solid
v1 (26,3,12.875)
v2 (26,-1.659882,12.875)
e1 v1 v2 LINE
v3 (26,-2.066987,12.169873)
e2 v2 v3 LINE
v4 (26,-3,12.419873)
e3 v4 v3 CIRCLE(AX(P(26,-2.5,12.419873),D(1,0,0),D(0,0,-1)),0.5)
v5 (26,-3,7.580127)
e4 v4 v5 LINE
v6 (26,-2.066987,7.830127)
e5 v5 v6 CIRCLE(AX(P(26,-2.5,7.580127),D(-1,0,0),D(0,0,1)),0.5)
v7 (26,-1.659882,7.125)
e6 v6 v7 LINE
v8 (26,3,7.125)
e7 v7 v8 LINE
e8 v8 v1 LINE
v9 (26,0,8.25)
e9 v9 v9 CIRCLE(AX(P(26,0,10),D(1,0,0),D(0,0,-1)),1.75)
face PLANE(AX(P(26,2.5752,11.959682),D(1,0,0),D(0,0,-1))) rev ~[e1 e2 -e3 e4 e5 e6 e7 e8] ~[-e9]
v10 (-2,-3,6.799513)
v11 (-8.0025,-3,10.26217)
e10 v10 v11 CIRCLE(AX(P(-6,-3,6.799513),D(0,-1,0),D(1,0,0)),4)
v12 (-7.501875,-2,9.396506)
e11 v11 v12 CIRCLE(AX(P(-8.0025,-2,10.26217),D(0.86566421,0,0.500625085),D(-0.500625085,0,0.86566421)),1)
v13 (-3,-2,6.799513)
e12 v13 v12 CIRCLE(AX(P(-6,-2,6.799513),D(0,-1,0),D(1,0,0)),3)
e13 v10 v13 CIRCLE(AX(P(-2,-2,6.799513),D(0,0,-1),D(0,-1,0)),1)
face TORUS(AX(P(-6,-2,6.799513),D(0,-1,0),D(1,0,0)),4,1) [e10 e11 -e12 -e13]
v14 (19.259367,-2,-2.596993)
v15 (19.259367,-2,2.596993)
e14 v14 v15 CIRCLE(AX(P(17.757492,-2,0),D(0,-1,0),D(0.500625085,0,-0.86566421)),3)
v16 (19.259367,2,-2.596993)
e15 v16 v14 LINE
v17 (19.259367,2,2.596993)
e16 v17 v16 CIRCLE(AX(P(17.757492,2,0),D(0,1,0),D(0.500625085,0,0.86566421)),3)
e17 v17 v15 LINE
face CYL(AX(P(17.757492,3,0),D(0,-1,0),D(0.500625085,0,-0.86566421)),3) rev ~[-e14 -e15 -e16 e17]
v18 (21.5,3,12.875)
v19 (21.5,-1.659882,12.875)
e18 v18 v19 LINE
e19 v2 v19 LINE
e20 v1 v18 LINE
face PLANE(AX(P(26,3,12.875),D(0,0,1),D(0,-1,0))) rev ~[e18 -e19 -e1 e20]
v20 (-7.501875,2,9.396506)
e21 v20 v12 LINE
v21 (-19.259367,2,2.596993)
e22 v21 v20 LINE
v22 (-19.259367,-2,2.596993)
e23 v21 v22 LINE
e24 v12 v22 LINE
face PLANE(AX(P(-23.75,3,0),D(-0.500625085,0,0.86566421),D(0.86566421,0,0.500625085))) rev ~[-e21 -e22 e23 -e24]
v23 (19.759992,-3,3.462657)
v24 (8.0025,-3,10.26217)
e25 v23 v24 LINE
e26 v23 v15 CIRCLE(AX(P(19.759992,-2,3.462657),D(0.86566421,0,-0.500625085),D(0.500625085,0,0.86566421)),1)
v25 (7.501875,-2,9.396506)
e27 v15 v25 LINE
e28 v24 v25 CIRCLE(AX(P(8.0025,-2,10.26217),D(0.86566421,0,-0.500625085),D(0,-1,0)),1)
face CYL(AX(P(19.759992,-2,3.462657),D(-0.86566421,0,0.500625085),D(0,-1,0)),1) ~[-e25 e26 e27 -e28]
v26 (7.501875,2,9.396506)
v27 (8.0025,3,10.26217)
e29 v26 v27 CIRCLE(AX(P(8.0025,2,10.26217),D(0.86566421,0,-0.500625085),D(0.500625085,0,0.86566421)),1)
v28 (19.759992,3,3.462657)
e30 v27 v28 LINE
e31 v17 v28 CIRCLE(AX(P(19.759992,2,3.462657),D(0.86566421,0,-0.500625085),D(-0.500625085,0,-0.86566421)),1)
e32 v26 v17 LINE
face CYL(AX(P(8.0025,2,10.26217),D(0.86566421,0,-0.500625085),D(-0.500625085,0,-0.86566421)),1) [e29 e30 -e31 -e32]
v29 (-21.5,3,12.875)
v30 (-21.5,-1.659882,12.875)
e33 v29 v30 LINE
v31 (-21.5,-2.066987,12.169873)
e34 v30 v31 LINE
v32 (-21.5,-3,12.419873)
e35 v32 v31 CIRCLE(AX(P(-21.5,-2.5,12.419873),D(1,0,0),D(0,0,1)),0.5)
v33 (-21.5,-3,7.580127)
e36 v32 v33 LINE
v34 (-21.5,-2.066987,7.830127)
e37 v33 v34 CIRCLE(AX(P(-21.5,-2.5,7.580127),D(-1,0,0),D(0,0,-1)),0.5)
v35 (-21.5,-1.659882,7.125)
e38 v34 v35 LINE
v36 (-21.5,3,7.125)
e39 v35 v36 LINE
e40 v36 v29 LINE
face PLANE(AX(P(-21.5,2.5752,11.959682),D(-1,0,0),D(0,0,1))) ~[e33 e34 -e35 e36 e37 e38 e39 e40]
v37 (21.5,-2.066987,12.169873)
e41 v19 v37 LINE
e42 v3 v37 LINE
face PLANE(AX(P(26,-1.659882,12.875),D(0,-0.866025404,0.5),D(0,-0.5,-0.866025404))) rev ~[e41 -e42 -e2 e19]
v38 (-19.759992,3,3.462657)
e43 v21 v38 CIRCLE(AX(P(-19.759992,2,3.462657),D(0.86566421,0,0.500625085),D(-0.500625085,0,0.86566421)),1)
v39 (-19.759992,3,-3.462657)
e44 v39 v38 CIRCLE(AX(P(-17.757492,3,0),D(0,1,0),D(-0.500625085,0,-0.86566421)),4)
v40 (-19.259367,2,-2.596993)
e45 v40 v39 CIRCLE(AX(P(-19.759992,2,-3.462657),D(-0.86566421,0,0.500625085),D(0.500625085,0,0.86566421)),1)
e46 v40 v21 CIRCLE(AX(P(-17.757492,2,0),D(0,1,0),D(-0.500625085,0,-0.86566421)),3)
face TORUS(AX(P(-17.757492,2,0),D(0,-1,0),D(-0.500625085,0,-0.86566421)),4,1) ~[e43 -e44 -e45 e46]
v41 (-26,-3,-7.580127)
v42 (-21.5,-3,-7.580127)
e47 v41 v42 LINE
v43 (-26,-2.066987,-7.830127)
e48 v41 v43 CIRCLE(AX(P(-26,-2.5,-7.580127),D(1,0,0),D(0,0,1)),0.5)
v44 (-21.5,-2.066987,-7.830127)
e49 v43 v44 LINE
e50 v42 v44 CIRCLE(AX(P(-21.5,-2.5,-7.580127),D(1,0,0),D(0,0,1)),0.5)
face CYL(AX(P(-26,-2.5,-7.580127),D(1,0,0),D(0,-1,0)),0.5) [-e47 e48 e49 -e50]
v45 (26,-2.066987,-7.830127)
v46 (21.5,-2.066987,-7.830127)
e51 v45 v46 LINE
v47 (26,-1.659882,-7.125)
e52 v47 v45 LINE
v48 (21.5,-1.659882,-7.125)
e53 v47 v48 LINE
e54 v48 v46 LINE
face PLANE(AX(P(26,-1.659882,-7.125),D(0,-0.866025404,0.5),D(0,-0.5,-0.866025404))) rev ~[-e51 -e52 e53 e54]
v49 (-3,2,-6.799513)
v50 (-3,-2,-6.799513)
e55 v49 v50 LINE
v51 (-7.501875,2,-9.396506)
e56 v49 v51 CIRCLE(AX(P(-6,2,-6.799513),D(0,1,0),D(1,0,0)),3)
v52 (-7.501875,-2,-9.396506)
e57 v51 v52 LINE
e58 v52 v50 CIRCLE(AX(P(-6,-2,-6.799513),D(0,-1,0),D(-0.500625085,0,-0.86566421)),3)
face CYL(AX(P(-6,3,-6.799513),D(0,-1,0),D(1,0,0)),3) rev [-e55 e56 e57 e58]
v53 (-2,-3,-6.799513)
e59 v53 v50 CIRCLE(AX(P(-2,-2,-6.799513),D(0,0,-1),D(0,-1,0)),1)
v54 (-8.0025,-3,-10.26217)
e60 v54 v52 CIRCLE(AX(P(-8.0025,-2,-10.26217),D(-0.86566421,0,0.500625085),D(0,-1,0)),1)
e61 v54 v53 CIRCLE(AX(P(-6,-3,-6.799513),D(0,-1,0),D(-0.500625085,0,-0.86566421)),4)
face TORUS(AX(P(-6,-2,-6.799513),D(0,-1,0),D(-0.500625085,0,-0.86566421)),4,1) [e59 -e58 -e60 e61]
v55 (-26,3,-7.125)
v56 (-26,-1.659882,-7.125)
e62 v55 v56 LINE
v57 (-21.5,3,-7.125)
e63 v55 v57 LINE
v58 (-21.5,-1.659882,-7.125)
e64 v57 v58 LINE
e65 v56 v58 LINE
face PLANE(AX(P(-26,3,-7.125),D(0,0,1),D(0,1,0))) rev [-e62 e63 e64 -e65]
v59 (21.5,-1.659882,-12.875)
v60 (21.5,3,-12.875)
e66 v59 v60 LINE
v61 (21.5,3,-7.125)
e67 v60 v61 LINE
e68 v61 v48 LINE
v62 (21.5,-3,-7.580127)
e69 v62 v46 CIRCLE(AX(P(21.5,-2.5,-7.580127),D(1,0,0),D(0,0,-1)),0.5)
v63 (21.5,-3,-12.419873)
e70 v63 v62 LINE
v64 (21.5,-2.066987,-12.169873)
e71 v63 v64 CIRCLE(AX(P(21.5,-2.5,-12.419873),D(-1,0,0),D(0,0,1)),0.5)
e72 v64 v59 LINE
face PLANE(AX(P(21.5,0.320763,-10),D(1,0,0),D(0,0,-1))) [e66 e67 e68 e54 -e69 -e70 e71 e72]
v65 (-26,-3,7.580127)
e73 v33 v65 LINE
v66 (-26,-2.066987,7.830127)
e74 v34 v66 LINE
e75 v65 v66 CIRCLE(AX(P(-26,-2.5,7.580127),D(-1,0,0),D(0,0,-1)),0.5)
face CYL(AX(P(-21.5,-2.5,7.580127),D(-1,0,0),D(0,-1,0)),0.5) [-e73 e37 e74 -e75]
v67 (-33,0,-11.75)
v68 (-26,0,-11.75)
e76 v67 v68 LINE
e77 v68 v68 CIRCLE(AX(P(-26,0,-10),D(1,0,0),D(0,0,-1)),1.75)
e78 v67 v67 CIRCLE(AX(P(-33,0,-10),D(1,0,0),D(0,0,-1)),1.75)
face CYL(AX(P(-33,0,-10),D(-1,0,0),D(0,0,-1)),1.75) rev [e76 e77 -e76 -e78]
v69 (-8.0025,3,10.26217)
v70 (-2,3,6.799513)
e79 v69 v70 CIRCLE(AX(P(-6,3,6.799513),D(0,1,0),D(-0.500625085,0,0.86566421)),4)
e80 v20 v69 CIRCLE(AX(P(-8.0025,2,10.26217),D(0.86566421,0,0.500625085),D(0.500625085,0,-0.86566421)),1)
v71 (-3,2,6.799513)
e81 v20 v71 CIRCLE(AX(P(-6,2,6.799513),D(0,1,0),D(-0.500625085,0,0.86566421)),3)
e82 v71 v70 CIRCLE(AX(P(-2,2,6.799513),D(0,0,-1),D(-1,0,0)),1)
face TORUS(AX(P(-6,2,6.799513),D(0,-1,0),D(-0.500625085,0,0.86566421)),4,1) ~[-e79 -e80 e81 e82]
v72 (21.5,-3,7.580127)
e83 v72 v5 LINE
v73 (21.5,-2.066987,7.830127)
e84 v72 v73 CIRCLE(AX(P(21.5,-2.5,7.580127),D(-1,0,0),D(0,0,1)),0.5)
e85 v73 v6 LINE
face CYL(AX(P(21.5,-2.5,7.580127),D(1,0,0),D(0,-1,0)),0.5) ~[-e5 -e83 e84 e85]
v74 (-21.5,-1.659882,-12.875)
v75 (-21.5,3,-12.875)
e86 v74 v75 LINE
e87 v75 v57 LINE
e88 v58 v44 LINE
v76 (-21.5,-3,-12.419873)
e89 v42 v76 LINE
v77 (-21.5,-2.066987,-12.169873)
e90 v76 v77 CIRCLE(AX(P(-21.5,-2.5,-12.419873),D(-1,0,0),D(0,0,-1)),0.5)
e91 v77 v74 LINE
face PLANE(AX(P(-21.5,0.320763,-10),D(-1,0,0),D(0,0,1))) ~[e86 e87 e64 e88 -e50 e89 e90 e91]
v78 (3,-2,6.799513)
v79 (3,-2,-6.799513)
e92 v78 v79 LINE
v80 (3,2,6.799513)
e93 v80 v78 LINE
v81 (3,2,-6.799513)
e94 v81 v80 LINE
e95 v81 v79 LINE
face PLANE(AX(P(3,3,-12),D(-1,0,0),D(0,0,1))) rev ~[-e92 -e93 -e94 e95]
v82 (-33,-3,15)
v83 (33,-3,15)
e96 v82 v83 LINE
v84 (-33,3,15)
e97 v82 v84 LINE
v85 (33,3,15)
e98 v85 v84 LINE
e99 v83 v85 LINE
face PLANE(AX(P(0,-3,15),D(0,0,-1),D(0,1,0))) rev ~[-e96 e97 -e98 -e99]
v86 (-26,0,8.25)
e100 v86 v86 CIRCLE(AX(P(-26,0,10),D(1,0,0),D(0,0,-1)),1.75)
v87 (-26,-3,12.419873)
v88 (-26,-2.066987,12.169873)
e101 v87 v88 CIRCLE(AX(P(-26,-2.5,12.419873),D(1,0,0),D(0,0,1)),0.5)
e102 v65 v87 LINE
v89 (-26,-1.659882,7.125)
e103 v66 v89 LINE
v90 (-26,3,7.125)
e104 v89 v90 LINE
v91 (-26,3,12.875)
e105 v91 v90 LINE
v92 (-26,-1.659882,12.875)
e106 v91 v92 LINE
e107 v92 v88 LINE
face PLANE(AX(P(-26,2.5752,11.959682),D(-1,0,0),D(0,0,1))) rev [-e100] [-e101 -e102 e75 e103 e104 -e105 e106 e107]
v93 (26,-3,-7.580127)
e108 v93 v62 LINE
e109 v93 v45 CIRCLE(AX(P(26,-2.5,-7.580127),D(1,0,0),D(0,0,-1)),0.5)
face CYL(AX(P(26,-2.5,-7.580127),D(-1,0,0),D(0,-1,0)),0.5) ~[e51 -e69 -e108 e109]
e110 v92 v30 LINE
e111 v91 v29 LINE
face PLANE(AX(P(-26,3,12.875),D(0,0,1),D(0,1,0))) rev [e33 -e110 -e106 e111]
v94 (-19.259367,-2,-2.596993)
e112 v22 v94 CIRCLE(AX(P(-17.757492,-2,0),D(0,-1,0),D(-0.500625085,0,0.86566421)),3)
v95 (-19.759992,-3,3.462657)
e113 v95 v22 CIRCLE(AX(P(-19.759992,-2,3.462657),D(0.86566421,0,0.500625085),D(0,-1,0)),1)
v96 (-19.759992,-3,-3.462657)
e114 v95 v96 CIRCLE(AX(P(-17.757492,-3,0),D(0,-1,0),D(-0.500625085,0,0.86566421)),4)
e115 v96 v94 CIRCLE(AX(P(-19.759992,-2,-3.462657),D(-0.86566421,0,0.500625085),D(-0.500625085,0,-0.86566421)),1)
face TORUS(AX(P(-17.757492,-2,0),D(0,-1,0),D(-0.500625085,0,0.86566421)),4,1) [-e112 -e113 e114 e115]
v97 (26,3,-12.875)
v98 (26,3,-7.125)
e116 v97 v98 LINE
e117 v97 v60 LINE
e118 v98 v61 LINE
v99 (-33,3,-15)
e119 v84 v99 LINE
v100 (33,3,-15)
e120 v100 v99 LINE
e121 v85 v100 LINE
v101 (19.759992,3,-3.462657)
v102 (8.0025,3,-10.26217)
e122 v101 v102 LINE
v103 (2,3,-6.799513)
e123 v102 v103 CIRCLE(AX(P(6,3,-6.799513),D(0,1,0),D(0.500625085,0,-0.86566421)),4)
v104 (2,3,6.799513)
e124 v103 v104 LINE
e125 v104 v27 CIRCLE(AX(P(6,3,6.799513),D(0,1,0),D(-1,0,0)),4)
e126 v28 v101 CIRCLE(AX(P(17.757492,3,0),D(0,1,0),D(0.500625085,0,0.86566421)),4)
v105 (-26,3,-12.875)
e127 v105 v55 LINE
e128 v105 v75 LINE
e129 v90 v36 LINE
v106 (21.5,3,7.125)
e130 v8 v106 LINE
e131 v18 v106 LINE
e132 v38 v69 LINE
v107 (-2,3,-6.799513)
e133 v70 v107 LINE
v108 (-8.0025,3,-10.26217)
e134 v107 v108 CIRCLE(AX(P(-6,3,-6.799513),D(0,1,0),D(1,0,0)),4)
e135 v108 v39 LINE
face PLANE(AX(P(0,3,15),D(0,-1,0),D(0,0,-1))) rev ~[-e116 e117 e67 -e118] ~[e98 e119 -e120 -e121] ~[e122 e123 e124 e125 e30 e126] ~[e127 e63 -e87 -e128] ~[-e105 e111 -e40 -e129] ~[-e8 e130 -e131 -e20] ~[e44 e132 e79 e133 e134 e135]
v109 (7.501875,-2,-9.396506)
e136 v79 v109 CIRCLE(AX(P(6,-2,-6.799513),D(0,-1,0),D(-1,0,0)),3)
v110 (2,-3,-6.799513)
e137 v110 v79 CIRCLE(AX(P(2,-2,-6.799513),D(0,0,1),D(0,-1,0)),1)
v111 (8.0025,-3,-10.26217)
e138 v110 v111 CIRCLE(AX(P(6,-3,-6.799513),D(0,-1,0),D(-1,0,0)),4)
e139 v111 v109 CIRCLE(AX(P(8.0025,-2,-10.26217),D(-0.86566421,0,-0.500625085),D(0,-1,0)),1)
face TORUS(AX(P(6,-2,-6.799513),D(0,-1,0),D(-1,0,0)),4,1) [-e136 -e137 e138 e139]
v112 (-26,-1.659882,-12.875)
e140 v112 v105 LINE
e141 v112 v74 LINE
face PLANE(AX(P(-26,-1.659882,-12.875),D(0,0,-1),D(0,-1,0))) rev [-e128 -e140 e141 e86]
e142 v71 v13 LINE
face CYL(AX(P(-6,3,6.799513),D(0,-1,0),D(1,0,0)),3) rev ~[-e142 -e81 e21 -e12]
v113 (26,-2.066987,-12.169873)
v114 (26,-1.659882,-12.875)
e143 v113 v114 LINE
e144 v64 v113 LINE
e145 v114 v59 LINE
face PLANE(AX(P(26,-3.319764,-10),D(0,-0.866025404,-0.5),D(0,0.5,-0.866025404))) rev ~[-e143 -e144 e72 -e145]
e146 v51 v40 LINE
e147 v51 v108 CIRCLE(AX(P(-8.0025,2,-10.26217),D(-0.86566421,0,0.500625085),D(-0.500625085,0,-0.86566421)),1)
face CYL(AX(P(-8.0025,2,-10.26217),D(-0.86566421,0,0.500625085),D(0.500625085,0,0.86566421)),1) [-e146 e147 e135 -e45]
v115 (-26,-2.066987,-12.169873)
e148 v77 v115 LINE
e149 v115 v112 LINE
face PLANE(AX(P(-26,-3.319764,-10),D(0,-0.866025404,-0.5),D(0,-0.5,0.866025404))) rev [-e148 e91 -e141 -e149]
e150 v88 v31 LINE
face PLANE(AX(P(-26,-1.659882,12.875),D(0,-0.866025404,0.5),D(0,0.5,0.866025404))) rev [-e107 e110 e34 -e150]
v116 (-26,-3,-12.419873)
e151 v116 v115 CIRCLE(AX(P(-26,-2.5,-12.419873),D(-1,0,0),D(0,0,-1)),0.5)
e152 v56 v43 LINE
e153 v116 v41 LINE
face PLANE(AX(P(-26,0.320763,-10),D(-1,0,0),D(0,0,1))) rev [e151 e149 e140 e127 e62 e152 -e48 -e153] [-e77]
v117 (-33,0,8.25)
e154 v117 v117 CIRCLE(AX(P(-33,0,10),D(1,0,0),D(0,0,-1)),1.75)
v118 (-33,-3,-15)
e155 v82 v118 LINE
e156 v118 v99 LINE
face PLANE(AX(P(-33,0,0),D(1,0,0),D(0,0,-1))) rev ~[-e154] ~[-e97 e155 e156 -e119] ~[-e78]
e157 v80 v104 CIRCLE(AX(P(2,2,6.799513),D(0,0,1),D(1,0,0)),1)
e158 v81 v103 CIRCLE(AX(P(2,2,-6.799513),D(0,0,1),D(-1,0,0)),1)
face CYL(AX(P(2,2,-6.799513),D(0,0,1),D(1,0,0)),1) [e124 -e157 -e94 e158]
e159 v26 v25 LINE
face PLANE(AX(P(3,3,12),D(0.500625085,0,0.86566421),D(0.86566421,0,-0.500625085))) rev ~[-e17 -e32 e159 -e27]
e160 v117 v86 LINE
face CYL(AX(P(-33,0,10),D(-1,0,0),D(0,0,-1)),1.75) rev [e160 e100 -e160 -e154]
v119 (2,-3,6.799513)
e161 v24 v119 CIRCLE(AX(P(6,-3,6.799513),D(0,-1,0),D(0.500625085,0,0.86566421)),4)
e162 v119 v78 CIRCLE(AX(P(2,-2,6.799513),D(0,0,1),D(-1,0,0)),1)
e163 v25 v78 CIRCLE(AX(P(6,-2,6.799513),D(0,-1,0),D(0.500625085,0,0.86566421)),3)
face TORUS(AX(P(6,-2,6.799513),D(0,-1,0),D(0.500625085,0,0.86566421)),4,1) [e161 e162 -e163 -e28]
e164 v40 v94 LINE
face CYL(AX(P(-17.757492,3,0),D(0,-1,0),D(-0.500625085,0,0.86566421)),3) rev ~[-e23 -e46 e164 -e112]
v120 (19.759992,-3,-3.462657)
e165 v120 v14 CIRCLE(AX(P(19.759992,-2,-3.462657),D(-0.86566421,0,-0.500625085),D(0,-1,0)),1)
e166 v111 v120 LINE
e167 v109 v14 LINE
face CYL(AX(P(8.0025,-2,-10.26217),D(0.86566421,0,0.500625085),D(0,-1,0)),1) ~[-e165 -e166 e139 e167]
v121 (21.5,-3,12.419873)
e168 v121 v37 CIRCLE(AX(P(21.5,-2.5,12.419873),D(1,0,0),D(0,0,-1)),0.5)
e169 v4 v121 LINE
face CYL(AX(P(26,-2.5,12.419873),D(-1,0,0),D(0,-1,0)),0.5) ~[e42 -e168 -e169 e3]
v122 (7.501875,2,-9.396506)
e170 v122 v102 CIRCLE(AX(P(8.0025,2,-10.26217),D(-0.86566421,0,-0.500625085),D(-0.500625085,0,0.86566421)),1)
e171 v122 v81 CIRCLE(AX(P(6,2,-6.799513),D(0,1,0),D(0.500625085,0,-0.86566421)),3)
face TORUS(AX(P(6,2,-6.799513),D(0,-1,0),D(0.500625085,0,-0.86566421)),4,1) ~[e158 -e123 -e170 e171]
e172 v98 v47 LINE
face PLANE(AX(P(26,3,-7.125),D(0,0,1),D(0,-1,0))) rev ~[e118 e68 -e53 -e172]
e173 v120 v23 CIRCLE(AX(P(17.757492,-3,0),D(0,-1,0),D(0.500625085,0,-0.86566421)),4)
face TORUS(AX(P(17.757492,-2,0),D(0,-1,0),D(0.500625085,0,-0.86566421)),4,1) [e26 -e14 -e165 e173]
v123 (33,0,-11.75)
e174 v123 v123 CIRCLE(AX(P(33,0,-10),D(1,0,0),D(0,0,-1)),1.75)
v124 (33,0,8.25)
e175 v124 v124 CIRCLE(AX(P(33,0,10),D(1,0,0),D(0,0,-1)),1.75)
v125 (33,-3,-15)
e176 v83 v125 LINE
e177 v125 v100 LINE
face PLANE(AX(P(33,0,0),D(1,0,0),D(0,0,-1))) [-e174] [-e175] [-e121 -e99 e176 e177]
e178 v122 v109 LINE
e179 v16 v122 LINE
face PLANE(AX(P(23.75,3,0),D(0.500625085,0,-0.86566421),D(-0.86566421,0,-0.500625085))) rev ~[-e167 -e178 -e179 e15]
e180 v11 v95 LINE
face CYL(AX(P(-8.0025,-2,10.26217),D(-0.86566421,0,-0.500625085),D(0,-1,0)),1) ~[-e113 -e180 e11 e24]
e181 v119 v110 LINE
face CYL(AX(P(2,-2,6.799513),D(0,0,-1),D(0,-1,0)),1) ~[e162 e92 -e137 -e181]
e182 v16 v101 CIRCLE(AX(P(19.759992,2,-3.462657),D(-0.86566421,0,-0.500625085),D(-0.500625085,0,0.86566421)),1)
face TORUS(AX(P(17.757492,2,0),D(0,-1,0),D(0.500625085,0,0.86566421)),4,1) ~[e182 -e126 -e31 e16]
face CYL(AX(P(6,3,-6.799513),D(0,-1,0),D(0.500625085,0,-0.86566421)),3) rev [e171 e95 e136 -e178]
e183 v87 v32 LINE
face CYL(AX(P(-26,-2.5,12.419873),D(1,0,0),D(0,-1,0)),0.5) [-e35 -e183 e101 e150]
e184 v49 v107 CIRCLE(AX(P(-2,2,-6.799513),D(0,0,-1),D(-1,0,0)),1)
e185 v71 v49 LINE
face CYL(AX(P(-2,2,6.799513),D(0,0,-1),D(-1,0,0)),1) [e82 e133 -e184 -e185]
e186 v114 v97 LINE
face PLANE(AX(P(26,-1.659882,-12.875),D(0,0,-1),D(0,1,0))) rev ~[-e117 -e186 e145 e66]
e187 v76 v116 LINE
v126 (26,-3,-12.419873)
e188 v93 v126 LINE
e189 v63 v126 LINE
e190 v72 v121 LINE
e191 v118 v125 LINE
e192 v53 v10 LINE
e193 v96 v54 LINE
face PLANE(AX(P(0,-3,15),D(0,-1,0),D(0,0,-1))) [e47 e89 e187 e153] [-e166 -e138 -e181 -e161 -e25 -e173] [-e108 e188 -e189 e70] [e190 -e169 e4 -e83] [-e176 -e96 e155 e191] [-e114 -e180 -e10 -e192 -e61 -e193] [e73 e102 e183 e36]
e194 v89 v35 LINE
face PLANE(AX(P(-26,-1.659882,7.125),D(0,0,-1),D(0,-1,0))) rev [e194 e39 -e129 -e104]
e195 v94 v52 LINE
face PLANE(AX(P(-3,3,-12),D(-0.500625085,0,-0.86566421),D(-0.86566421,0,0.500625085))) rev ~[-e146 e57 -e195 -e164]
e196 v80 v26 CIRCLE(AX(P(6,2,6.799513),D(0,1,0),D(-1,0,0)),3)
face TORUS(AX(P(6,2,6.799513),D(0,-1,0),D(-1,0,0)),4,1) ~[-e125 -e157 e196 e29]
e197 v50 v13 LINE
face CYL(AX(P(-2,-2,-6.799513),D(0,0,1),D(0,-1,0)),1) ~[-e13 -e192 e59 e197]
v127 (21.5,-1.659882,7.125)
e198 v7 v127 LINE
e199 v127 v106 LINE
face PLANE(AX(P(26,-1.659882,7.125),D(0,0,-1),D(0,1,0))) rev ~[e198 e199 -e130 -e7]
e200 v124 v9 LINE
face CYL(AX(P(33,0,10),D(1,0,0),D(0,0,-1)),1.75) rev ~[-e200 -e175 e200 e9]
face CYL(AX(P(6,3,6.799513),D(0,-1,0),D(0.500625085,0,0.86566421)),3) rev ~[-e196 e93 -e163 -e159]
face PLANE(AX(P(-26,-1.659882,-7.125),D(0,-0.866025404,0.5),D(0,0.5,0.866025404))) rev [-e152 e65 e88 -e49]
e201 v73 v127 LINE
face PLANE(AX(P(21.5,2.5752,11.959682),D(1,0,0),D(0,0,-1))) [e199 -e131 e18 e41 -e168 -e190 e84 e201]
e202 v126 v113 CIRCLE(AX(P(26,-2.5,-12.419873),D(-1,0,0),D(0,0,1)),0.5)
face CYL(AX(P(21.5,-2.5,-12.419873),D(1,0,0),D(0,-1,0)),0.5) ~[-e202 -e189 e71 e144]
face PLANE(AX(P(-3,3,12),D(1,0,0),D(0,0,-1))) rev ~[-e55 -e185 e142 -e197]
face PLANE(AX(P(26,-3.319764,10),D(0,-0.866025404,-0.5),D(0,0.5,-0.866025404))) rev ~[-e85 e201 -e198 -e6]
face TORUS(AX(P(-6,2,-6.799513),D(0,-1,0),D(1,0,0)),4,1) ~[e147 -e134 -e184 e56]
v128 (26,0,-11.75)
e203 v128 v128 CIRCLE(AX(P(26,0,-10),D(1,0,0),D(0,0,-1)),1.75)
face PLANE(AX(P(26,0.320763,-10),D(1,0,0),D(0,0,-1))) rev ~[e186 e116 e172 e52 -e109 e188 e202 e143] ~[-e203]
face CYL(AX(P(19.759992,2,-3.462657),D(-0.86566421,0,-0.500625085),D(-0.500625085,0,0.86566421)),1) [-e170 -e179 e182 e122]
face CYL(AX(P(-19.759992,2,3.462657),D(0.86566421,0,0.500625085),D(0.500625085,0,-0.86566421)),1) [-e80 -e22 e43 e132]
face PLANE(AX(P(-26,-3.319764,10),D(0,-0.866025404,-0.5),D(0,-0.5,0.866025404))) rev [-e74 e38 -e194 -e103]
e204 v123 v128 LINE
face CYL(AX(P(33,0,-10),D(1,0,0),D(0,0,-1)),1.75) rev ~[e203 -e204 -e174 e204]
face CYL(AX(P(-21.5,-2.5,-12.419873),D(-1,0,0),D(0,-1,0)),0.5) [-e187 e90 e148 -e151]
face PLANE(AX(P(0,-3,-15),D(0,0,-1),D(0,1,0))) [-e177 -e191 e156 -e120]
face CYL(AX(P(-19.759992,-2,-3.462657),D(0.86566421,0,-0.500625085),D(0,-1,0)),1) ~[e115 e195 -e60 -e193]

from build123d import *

# Parameters (mm, degrees)
SKETCH1_W           = 30
SKETCH1_H           = 6
BOSS_EXTRUDE1_DEPTH = 33
SKETCH2_R           = 1.75
CUT_EXTRUDE1_DEPTH  = 7
CUT_EXTRUDE2_DEPTH  = 4.5
CUT_EXTRUDE3_DEPTH  = 7
FILLET1_R           = 3
FILLET2_R           = 1
FILLET3_R           = 0.5


with BuildPart() as part:
    # Sketch1 → Boss-Extrude1 (new body, symmetric)
    with BuildSketch(Plane(origin=(0, 0, 0), x_dir=(0, 0, -1), z_dir=(1, 0, 0))):
        Rectangle(SKETCH1_W, SKETCH1_H)
    extrude(amount=BOSS_EXTRUDE1_DEPTH, both=True)

    # Sketch2 → Cut-Extrude1 (cut)
    with BuildSketch(Plane(origin=(33, 0, 0), x_dir=(0, 0, -1), z_dir=(1, 0, 0))):
        with Locations((-10, 0)):
            Circle(SKETCH2_R)
        with Locations((10, 0)):
            Circle(SKETCH2_R)
    cut_extrude1 = extrude(amount=-CUT_EXTRUDE1_DEPTH, mode=Mode.SUBTRACT)

    # Sketch3 → Cut-Extrude2 (cut)
    with BuildSketch(Plane(origin=(26, 0, 0), x_dir=(0, 0, -1), z_dir=(1, 0, 0))):
        Polygon((-12.875, 3), (-12.875, 1.659882024), (-10.553847577, 3), align=None)
        Polygon((-10.553847577, 3), (-12.875, 1.659882024), (-12.875, -1.659882024), (-10, -3.319764048), (-7.125, -1.659882024), (-7.125, 1.659882024), (-9.446152423, 3), align=None)
        Polygon((-10, 3.319764048), (-10.553847577, 3), (-9.446152423, 3), align=None)
        Polygon((-7.125, 3), (-9.446152423, 3), (-7.125, 1.659882024), align=None)
        Polygon((12.875, 3), (7.125, 3), (7.125, 1.659882024), (7.125, -1.659882024), (10, -3.319764048), (12.875, -1.659882024), (12.875, 1.659882024), align=None)
    cut_extrude2 = extrude(amount=-CUT_EXTRUDE2_DEPTH, mode=Mode.SUBTRACT)

    # Mirror1: Cut-Extrude1, Cut-Extrude2 across plane
    add(cut_extrude1.mirror(Plane(origin=(0, 0, 0), x_dir=(0, 0, 1), z_dir=(1, 0, 0))), mode=Mode.SUBTRACT)
    add(cut_extrude2.mirror(Plane(origin=(0, 0, 0), x_dir=(0, 0, 1), z_dir=(1, 0, 0))), mode=Mode.SUBTRACT)

    # Sketch4 → Cut-Extrude3 (cut, through all)
    with BuildSketch(Plane(origin=(0, 3, 0), x_dir=(1, 0, 0), z_dir=(0, 1, 0))):
        Polygon((-3, -12), (-3, 12), (-23.75, 0), align=None)
        Polygon((23.75, 0), (3, 12), (3, -12), align=None)
    extrude(amount=-CUT_EXTRUDE3_DEPTH, mode=Mode.SUBTRACT)

    # Fillet1
    fillet1_edges = [part.edges().sort_by_distance(p)[0] for p in [
        (-23.75, 0, 0),
        (-3, 0, -12),
        (-3, 0, 12),
        (23.75, 0, 0),
        (3, 0, 12),
        (3, 0, -12),
    ]]
    fillet(fillet1_edges, radius=FILLET1_R)

    # Fillet2
    fillet2_edges = [part.edges().sort_by_distance(p)[0] for p in [
        (13.380621084, 3, -5.996749253),
        (13.380621084, -3, -5.996749253),
        (13.380621084, 3, 5.996749253),
        (13.380621084, -3, 5.996749253),
        (3, 3, 0),
        (3, -3, 0),
        (-3, 3, 0),
        (-3, -3, 0),
        (-13.380621084, 3, 5.996749253),
        (-13.380621084, -3, 5.996749253),
        (-13.380621084, 3, -5.996749253),
        (-13.380621084, -3, -5.996749253),
        (20.757491656, 3, 0),
        (20.757491656, -3, 0),
        (4.500937921, 3, 9.398130742),
        (4.500937921, -3, 9.398130742),
        (4.500937921, 3, -9.398130742),
        (4.500937921, -3, -9.398130742),
        (-4.500937921, 3, 9.398130742),
        (-4.500937921, -3, 9.398130742),
        (-20.757491656, 3, 0),
        (-20.757491656, -3, 0),
        (-4.500937921, 3, -9.398130742),
        (-4.500937921, -3, -9.398130742),
    ]]
    fillet(fillet2_edges, radius=FILLET2_R)

    # Fillet3
    fillet3_edges = [part.edges().sort_by_distance(p)[0] for p in [
        (23.75, -3, 10.553847577),
        (23.75, -3, 9.446152423),
        (23.75, -3, -9.446152423),
        (23.75, -3, -10.553847577),
        (-23.75, -3, 9.446152423),
        (-23.75, -3, 10.553847577),
        (-23.75, -3, -10.553847577),
        (-23.75, -3, -9.446152423),
    ]]
    fillet(fillet3_edges, radius=FILLET3_R)


solid = part.part
